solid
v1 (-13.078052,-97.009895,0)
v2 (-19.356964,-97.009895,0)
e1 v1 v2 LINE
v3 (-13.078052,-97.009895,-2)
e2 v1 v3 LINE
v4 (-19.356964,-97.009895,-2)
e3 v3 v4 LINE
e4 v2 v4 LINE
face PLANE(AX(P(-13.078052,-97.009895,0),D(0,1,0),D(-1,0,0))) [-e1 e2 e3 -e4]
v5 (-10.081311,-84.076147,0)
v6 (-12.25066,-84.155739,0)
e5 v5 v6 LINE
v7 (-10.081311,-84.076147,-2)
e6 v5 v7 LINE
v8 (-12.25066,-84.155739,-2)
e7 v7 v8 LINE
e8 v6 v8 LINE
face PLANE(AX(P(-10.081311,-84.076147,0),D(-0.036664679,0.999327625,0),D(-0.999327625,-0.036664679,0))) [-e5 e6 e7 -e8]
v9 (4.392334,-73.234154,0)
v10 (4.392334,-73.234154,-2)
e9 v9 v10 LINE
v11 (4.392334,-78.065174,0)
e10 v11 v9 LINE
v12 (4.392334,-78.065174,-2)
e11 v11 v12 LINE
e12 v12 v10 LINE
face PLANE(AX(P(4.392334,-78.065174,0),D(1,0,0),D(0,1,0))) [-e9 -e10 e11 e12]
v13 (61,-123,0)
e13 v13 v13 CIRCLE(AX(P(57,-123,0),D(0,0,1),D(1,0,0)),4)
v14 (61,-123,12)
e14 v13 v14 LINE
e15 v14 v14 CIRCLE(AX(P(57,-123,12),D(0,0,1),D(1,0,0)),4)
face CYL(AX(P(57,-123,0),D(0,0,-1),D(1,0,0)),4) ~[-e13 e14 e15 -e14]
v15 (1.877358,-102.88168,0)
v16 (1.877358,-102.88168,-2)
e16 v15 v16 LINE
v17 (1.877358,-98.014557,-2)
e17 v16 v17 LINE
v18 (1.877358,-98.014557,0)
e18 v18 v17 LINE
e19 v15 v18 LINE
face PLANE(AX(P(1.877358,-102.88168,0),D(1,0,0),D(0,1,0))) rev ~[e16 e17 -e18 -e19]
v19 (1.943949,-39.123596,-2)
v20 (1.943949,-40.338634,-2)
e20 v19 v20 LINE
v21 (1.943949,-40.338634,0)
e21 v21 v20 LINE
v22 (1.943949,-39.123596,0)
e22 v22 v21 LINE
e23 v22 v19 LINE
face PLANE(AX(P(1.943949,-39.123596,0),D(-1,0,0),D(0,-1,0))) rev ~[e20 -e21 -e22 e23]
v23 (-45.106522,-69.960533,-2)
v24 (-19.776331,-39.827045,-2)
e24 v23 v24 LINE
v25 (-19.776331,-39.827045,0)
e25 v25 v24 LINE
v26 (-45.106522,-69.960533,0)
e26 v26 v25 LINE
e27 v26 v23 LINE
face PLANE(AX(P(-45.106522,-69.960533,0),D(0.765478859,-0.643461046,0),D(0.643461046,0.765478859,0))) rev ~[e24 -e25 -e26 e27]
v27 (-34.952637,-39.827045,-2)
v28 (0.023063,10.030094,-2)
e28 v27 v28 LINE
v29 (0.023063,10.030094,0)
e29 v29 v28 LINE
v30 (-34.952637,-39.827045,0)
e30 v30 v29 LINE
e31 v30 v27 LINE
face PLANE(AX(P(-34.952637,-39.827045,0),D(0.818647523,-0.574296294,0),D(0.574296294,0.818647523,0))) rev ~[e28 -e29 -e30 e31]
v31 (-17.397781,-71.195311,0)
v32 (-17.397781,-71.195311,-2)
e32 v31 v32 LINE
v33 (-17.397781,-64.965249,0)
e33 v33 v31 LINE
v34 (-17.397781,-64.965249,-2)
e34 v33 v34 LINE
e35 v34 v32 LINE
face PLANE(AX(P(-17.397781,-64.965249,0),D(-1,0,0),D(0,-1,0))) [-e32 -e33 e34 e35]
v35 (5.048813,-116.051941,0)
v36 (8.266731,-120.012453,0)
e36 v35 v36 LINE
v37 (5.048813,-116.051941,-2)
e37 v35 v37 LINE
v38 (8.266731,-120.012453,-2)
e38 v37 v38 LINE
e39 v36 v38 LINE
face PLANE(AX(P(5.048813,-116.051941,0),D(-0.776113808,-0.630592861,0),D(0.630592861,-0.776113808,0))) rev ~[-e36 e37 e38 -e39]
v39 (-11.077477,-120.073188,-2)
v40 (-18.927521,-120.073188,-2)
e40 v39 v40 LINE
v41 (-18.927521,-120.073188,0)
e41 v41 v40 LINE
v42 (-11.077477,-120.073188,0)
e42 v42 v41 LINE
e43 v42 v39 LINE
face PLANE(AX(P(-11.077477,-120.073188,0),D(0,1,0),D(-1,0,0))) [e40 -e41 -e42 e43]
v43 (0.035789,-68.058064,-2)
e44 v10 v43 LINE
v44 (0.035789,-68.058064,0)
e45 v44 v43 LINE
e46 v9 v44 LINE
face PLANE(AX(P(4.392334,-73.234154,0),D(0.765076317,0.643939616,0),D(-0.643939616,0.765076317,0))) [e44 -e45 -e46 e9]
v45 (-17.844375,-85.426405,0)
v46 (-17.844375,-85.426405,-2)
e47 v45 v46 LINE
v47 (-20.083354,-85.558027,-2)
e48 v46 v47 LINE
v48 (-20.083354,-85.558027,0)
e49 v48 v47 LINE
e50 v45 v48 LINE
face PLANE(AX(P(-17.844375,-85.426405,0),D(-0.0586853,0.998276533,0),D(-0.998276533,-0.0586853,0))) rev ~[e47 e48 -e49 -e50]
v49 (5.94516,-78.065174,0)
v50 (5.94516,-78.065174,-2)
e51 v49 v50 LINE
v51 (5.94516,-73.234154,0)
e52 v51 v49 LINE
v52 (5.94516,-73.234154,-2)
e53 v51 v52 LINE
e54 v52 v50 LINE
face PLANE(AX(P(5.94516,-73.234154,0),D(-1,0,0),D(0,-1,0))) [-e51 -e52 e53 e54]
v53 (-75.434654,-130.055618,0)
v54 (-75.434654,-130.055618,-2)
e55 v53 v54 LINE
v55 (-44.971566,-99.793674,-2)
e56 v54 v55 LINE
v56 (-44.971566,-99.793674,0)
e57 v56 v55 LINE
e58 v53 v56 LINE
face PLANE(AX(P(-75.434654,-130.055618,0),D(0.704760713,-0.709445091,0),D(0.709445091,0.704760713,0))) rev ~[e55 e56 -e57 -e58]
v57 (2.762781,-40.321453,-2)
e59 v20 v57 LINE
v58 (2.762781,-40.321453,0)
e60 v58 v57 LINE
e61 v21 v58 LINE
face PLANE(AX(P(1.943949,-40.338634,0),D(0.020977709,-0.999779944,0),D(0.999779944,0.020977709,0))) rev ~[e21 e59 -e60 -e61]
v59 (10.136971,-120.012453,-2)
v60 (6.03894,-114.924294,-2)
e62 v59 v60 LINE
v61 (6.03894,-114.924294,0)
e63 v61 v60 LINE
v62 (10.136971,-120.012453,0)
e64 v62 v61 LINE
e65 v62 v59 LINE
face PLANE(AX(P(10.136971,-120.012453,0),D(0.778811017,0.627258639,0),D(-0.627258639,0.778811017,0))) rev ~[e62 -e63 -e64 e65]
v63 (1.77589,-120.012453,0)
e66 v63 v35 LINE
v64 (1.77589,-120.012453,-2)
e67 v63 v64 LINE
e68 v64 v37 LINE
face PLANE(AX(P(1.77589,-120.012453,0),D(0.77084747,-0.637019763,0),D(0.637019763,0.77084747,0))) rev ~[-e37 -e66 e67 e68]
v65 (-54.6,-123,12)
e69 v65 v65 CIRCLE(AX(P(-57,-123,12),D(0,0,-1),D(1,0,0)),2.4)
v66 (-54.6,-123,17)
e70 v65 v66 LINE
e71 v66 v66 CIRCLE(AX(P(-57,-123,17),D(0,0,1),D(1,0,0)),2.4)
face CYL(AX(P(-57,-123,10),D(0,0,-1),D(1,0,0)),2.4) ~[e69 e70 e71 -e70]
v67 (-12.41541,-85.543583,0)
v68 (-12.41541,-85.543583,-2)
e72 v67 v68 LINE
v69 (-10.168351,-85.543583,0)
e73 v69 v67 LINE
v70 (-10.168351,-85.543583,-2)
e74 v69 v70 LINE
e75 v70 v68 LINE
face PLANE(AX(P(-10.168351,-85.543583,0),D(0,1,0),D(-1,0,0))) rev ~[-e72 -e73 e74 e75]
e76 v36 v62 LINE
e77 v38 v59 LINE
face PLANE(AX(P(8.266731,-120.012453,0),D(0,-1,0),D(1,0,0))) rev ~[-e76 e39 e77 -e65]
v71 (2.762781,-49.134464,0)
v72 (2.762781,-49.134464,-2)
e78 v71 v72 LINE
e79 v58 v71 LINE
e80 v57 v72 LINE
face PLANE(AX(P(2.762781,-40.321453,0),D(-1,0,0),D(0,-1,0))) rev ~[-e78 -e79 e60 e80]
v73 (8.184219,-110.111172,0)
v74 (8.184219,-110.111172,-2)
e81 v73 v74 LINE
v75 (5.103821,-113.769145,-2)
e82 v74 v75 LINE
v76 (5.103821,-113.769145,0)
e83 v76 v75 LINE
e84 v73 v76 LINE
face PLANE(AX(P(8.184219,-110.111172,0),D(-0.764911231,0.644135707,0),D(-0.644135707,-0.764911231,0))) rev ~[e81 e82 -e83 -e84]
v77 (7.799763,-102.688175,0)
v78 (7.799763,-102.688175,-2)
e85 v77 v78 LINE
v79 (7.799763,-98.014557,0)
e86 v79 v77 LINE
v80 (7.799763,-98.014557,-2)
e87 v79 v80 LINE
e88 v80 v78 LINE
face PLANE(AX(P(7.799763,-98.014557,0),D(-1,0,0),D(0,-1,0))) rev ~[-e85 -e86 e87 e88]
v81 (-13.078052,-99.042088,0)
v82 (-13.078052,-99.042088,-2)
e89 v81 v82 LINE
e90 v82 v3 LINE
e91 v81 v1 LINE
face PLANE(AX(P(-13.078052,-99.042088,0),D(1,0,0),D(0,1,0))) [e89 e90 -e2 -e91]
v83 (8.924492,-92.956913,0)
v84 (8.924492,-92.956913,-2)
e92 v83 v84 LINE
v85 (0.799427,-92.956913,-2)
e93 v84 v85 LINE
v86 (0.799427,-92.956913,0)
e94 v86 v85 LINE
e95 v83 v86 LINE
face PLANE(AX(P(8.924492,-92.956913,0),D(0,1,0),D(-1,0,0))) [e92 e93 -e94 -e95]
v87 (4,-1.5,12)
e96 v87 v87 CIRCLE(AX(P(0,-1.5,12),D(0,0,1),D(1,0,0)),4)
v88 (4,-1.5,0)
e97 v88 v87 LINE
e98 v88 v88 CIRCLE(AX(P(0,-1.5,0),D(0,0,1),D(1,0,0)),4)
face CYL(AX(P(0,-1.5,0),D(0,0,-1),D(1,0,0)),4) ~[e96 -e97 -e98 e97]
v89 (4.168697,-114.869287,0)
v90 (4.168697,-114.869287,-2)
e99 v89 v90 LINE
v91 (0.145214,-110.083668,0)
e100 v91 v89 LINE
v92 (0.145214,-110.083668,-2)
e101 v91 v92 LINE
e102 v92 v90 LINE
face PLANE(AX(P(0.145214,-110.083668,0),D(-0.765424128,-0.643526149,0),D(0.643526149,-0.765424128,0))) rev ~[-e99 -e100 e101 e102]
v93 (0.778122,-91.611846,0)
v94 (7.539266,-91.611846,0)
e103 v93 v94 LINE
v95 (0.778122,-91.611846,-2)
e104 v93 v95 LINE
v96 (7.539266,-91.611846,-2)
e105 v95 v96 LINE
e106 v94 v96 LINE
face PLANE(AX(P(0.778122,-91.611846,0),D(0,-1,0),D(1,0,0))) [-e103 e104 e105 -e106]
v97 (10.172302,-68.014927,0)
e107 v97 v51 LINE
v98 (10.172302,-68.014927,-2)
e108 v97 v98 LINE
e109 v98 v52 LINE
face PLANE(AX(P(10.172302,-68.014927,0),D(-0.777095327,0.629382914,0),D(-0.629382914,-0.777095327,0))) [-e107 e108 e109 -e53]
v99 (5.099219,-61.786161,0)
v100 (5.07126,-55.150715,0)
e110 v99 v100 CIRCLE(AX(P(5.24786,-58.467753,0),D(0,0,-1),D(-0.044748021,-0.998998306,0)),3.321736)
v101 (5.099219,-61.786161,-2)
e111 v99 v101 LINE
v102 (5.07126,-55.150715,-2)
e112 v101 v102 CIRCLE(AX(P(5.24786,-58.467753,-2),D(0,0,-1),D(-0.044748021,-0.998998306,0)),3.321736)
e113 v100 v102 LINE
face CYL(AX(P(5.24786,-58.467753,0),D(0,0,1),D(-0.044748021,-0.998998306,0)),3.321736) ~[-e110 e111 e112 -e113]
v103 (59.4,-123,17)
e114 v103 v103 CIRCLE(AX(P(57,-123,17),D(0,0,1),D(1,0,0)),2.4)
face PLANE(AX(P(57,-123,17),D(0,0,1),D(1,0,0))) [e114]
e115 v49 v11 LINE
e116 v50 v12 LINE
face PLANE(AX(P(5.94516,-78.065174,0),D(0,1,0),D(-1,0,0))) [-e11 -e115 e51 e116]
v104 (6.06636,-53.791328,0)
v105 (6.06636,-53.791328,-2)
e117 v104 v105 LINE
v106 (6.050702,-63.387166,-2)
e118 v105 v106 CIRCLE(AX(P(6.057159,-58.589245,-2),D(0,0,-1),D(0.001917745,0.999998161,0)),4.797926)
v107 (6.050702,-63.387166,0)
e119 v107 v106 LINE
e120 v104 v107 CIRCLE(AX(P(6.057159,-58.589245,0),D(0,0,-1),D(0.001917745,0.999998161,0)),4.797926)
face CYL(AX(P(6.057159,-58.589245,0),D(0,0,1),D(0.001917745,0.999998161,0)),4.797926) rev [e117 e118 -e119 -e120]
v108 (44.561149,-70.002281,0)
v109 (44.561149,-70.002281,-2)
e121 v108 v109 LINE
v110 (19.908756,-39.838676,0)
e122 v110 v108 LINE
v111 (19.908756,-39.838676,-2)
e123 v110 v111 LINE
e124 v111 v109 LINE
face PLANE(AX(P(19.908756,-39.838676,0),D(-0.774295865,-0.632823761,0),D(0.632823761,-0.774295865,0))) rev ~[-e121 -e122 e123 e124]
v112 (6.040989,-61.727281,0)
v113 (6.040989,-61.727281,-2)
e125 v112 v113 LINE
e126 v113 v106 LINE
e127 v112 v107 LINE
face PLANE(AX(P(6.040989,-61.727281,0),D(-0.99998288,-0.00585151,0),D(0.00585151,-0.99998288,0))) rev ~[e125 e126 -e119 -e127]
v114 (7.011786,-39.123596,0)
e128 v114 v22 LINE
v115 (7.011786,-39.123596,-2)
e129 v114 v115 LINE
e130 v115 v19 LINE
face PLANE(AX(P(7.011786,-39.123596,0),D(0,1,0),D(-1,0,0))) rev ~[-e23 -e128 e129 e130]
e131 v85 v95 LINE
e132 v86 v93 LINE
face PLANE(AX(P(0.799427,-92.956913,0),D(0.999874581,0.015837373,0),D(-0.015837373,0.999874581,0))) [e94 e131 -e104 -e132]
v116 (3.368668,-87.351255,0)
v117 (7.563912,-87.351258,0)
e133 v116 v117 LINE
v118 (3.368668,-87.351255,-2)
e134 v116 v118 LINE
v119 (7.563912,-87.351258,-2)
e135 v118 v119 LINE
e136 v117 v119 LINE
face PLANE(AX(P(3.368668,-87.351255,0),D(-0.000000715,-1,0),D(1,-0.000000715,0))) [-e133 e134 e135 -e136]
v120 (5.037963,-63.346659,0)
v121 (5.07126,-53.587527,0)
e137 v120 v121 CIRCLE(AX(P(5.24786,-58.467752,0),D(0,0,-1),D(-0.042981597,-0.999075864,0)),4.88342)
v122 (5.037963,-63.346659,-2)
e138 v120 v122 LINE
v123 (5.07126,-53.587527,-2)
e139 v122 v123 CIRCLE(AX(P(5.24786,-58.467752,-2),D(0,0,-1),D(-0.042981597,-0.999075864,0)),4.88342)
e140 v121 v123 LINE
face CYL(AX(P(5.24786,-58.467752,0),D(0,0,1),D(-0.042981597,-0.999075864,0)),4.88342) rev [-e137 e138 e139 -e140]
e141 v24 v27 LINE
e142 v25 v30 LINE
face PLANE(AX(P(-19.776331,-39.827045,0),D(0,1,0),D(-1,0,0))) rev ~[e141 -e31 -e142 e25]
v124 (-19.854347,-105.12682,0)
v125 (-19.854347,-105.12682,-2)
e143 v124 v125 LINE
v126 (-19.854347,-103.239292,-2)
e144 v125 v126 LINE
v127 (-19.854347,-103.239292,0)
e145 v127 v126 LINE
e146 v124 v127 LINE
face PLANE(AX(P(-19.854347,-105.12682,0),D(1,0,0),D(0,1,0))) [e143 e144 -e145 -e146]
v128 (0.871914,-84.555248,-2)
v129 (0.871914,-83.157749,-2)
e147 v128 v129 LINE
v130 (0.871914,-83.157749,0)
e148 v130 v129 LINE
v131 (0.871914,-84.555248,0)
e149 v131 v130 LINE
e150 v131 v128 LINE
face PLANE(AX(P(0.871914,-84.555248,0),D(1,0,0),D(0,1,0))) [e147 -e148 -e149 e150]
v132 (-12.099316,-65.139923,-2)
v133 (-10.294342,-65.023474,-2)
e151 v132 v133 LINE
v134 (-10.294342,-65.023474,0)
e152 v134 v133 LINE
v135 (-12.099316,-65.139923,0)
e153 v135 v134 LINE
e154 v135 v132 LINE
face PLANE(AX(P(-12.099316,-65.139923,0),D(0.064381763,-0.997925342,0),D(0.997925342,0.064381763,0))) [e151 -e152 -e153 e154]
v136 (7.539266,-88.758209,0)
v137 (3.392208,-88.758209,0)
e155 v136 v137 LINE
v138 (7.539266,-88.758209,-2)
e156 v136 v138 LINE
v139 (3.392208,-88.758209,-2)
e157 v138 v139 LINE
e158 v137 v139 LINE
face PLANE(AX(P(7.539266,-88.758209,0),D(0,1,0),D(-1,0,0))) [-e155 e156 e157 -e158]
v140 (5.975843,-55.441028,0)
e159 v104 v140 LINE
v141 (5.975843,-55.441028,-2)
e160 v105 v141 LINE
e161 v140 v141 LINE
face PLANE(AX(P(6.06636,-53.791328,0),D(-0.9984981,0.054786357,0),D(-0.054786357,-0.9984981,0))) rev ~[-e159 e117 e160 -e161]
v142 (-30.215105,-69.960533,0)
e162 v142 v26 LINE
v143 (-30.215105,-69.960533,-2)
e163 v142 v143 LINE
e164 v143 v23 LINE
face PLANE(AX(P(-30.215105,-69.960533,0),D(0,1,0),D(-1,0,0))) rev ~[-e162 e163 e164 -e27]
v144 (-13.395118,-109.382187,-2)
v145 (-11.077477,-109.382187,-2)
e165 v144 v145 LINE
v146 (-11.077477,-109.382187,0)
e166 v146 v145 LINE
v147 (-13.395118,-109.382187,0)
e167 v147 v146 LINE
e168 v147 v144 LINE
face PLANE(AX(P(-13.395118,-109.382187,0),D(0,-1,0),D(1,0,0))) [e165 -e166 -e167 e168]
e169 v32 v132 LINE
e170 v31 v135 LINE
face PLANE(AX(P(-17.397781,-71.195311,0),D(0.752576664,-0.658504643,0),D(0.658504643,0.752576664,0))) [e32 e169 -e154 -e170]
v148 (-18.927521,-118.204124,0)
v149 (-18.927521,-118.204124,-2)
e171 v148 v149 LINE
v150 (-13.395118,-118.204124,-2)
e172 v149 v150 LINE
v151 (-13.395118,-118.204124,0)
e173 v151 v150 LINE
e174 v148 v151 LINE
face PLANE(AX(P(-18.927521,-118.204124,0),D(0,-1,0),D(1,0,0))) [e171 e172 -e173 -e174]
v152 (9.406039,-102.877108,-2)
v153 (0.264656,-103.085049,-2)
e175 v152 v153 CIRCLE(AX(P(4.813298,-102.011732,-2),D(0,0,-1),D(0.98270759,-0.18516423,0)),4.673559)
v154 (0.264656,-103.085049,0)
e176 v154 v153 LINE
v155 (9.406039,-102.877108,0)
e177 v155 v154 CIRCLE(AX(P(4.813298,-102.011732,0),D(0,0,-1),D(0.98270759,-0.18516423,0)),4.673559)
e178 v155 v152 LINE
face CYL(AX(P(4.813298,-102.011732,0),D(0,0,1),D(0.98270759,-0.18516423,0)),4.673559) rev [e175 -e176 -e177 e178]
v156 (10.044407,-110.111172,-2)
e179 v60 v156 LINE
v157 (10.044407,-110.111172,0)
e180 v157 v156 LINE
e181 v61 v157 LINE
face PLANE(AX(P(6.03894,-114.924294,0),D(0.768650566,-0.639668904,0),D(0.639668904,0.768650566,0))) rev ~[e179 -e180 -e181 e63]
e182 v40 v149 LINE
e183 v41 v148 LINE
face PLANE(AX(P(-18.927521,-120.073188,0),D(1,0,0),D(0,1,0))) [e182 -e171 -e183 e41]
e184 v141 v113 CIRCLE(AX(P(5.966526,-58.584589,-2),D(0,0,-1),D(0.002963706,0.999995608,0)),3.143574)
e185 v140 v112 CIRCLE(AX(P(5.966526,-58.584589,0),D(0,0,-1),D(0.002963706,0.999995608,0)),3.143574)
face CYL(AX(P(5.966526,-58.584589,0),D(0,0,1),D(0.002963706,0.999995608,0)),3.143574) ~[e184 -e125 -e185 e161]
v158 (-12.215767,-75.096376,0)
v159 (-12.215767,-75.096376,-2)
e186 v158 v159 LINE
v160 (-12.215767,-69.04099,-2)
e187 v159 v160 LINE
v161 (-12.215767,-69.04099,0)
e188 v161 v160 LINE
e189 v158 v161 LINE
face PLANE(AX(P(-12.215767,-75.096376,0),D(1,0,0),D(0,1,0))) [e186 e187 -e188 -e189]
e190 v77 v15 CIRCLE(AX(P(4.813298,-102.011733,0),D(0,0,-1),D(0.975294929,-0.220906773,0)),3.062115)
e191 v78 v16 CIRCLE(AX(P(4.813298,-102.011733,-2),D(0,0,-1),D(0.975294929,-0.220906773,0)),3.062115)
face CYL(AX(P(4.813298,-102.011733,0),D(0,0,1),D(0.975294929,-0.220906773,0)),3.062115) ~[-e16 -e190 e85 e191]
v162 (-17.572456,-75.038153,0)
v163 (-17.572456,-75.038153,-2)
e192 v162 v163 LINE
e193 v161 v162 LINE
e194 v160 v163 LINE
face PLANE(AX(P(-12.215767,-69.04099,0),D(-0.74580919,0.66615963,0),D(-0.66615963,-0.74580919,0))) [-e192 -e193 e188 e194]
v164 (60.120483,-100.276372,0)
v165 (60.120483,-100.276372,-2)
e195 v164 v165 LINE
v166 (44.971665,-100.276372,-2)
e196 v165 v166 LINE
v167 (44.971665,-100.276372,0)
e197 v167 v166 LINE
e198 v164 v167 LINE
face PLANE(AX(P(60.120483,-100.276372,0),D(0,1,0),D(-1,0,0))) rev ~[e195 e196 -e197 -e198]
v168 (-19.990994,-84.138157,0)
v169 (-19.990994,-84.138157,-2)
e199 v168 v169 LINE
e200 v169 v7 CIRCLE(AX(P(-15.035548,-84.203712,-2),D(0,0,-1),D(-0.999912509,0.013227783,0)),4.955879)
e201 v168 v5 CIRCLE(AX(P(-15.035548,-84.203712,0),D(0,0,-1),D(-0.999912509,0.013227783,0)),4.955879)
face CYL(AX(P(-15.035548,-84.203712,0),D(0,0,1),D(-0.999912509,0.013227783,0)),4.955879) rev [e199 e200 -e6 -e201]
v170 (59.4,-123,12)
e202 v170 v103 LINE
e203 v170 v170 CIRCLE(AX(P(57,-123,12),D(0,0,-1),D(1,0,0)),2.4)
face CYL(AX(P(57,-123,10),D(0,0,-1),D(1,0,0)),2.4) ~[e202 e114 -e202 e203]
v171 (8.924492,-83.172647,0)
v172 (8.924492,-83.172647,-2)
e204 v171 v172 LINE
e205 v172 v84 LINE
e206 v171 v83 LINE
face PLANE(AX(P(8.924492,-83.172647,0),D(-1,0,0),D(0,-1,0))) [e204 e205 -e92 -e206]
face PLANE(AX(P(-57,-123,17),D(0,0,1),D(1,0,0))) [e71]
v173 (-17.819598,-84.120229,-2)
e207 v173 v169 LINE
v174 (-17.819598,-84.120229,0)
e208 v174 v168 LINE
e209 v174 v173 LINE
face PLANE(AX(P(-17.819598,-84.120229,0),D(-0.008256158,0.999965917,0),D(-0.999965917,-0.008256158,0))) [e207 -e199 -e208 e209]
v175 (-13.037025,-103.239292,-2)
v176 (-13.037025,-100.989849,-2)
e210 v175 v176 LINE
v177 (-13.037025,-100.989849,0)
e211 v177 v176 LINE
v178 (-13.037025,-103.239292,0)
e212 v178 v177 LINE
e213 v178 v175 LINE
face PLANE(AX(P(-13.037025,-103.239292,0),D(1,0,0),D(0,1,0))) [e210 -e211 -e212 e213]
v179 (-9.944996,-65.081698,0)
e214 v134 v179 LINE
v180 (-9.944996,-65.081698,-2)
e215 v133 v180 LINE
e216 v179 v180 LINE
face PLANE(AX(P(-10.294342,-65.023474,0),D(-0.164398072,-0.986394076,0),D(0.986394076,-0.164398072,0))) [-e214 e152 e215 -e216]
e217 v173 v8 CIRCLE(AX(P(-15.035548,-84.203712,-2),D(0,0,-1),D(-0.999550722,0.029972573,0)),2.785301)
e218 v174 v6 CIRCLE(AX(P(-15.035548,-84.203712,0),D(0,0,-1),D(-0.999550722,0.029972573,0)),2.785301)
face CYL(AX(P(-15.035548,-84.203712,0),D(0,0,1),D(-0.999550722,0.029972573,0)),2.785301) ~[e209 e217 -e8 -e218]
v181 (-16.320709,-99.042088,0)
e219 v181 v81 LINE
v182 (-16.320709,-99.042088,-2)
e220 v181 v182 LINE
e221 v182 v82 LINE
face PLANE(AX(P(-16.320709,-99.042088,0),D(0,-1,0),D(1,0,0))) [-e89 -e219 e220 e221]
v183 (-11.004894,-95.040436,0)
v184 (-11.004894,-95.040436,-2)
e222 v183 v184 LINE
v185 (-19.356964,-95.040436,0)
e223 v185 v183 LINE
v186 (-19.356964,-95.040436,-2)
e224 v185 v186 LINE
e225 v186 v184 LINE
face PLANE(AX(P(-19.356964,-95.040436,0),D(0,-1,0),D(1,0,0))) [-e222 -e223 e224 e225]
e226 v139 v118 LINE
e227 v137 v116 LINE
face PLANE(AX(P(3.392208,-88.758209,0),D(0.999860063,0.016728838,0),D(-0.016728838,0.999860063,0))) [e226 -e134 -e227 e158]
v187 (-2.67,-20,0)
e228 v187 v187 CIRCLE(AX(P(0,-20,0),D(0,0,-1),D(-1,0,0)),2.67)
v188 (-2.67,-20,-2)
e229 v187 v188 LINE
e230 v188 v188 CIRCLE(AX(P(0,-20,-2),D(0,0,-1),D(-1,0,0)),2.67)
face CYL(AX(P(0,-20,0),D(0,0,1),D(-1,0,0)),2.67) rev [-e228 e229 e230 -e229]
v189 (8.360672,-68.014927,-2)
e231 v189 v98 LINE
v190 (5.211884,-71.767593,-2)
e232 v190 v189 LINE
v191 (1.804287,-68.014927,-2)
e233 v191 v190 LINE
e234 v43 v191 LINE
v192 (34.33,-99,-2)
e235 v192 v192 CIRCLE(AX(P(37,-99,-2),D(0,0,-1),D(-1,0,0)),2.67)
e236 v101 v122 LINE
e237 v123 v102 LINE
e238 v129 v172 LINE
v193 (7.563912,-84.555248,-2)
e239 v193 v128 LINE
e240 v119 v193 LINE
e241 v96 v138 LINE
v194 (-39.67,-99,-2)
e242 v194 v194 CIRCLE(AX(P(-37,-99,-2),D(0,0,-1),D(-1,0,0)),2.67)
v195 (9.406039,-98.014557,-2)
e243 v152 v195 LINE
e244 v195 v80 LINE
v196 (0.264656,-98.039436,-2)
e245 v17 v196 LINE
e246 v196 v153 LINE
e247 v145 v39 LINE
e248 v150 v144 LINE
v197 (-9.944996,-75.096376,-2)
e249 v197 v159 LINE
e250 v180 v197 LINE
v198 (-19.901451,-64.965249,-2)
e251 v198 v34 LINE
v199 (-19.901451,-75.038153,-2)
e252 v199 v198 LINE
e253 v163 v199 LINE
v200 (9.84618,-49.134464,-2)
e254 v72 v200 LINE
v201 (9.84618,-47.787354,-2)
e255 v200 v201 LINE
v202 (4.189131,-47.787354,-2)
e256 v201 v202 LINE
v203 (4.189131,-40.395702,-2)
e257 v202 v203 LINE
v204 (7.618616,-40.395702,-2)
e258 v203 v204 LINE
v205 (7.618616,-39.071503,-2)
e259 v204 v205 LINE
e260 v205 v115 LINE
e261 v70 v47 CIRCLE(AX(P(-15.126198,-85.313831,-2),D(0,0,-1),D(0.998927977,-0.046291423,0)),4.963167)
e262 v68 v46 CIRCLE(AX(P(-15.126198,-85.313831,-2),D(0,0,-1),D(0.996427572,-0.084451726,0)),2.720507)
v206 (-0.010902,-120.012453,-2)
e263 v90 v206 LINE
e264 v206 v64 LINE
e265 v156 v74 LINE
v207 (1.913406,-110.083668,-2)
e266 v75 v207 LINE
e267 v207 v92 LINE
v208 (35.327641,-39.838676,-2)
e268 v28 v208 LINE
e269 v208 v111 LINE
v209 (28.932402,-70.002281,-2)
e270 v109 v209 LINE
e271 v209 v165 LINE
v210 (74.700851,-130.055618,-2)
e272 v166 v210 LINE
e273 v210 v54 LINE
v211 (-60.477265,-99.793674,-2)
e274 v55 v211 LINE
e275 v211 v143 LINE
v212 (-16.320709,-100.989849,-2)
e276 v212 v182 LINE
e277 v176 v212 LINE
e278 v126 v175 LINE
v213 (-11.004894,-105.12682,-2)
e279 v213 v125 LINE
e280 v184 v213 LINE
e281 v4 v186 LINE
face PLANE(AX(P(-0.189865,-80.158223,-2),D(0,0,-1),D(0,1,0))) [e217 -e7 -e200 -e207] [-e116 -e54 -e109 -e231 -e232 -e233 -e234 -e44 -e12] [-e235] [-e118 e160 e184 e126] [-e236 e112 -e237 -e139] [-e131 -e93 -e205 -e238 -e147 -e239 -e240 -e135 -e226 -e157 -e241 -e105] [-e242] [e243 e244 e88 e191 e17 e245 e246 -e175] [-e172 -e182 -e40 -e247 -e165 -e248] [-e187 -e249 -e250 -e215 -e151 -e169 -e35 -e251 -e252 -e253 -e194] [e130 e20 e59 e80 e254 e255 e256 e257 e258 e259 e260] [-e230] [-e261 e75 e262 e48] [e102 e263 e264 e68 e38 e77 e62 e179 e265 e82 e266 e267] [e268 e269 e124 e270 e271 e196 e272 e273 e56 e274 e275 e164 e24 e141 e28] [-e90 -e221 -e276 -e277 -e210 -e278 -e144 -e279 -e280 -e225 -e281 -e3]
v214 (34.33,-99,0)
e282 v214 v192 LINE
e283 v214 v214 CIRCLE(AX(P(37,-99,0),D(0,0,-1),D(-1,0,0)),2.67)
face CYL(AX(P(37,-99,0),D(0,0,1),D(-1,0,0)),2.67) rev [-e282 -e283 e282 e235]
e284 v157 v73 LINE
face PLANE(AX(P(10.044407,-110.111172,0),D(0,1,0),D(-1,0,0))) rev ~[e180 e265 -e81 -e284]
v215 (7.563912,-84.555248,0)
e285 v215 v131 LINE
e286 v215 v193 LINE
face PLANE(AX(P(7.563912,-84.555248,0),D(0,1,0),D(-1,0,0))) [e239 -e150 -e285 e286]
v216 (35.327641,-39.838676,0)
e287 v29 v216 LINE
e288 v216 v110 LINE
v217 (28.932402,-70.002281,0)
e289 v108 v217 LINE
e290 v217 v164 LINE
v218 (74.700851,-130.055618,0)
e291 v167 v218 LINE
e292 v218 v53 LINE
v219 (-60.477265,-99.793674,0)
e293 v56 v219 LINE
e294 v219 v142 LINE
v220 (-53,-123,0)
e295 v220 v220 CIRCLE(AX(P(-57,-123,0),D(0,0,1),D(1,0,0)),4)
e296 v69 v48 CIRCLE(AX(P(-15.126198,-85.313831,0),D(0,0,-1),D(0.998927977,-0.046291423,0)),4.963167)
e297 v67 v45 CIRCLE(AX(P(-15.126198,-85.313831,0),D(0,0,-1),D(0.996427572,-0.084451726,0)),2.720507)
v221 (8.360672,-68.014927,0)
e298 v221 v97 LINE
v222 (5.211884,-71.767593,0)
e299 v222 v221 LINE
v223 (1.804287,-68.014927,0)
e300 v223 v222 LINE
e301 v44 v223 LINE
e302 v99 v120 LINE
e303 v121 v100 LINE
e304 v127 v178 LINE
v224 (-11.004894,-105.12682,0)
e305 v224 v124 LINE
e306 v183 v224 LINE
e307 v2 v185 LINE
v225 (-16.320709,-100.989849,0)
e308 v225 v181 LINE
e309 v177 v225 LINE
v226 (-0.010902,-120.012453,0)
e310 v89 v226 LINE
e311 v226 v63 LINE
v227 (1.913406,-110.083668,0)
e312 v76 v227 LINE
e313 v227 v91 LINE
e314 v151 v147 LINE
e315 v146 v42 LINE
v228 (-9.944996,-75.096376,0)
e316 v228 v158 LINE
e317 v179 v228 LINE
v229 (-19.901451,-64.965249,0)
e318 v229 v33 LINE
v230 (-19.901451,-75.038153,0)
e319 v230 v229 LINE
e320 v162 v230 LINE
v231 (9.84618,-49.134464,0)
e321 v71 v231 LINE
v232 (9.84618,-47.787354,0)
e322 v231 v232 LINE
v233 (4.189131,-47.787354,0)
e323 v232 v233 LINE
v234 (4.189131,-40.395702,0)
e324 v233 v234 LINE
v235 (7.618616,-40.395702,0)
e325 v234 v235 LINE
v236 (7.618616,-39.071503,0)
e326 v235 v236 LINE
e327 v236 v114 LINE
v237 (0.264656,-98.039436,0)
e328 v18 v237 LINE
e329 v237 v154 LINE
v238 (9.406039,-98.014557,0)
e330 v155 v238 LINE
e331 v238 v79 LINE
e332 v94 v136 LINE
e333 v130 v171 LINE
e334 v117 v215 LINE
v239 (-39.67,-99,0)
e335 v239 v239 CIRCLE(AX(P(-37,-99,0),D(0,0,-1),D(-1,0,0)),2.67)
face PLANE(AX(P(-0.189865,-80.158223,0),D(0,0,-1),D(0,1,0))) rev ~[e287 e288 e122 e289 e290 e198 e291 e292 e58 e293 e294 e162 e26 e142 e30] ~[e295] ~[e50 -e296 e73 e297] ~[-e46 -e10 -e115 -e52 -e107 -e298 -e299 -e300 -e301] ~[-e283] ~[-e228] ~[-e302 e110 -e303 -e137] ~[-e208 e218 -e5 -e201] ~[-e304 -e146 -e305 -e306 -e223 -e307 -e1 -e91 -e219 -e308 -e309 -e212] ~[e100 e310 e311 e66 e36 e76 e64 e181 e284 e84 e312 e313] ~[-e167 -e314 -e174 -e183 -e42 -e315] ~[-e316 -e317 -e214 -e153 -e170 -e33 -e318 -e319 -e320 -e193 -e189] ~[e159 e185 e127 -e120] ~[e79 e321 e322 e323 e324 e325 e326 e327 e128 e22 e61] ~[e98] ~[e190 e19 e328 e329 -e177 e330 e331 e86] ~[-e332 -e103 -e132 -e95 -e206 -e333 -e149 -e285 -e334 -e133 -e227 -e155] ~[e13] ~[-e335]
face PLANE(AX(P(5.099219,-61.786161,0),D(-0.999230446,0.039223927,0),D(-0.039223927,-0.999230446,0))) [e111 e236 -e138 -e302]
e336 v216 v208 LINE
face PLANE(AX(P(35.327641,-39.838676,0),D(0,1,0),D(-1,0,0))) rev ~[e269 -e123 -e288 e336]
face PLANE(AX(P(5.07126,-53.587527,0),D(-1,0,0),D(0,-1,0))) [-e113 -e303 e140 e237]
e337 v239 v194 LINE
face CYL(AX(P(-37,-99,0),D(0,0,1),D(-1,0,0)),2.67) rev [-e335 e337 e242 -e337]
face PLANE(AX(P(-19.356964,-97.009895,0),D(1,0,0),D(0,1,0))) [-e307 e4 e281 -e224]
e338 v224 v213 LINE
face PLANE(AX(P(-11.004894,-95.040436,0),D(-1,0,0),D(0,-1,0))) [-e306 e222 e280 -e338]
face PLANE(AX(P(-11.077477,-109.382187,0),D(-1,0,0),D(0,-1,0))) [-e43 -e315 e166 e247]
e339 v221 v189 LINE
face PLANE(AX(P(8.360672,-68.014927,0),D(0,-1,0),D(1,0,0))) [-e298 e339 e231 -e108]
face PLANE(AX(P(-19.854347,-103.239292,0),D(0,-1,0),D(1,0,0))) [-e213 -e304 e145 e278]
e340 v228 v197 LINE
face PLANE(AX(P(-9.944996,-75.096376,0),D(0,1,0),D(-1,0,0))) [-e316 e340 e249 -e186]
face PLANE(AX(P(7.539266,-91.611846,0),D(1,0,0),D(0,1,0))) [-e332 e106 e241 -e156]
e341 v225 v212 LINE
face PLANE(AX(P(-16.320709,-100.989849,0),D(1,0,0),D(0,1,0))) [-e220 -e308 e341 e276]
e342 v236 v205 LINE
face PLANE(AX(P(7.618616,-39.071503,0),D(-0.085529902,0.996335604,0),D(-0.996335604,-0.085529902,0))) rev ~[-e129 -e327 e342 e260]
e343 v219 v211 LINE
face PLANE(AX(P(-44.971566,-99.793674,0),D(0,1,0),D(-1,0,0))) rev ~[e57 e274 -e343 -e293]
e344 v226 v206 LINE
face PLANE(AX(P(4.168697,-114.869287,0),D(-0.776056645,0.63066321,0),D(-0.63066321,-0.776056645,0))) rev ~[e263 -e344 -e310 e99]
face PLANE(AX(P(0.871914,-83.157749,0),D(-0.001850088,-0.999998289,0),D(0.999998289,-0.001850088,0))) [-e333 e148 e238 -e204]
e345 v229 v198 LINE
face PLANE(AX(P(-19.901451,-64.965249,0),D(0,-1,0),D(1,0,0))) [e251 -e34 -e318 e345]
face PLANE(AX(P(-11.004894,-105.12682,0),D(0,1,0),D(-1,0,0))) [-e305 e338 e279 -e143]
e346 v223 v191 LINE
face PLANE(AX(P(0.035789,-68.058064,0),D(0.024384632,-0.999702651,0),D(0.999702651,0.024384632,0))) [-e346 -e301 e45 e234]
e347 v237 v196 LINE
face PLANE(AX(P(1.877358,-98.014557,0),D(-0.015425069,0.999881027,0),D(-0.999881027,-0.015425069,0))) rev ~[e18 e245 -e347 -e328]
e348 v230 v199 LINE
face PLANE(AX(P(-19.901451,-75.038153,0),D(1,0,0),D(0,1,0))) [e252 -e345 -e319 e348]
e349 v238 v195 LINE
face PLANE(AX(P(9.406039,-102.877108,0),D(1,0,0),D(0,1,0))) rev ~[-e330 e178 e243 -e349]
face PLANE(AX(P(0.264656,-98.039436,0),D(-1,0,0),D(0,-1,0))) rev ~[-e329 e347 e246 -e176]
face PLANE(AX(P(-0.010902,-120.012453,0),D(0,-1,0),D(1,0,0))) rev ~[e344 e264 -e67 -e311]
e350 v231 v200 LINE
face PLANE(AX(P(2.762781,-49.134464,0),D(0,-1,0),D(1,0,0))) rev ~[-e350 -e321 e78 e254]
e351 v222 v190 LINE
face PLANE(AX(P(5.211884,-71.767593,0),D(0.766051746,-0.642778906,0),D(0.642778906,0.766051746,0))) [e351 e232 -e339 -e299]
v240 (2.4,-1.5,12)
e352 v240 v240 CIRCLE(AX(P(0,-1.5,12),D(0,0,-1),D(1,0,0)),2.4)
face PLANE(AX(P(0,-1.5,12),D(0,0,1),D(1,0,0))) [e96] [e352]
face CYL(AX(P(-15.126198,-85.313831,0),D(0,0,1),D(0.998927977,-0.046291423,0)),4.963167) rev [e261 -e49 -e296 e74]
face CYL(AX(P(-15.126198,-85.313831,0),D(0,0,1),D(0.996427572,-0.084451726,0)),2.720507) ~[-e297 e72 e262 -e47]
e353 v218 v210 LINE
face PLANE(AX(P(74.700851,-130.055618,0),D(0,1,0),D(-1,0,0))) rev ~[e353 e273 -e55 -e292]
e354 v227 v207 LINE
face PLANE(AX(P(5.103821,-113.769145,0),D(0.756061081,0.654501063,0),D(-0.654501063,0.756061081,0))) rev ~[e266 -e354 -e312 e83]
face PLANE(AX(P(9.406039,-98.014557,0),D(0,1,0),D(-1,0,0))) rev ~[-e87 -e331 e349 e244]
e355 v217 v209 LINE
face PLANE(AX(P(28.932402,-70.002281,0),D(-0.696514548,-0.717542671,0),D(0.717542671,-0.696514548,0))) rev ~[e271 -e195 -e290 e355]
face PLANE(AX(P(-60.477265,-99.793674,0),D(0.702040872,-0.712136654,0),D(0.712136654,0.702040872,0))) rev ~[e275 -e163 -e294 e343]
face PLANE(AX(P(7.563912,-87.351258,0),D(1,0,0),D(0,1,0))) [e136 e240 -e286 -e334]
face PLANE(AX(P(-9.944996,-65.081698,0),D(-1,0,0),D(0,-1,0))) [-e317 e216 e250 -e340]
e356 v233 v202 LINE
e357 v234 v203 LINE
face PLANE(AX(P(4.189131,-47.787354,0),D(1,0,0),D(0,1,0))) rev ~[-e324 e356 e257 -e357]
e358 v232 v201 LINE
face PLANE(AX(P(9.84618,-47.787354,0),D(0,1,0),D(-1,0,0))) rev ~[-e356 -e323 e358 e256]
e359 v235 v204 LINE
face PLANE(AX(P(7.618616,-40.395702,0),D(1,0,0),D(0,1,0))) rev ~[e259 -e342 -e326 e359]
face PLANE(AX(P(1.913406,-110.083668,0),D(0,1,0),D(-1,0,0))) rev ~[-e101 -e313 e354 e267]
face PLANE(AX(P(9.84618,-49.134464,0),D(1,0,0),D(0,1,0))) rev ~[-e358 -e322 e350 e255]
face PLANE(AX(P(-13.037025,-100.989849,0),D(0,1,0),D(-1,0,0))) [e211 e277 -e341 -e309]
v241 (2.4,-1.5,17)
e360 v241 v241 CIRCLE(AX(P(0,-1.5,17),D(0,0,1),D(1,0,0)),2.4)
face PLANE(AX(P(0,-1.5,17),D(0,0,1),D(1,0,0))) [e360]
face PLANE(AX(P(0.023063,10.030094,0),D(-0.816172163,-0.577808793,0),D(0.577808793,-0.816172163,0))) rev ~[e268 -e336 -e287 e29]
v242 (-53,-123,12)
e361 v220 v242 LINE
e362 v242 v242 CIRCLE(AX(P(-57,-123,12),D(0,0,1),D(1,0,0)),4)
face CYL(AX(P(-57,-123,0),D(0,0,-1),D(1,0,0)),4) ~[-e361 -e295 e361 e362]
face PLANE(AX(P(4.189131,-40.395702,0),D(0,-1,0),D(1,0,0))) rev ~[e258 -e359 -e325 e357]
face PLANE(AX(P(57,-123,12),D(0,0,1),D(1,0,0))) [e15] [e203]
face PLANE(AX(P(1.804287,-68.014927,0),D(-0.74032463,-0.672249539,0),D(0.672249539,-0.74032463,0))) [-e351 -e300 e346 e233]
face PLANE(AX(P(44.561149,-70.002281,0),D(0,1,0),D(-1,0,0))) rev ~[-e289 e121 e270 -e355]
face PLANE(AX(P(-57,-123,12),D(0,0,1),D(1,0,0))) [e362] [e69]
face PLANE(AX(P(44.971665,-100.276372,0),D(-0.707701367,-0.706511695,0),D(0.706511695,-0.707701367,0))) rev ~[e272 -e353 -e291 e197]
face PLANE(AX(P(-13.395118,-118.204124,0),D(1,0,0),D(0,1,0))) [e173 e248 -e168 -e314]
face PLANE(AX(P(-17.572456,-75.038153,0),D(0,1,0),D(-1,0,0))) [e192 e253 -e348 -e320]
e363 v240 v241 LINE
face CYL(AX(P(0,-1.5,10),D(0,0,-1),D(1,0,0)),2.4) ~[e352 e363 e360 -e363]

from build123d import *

# Parameters (mm, degrees)
CYLINDER006_R          = 2.4
CYLINDER006_DEPTH      = 7
CYLINDER004_R          = 4
CYLINDER004_DEPTH      = 12
CYLINDER007_R          = 2.4
CYLINDER007_DEPTH      = 7
CYLINDER005_R          = 4
CYLINDER005_DEPTH      = 12
CYLINDER_R             = 2.67
CYLINDER_DEPTH         = 2
CYLINDER001_R          = 2.67
CYLINDER001_DEPTH      = 2
CYLINDER002_R          = 2.67
CYLINDER002_DEPTH      = 2
PAD005_DEPTH           = 2
PAD006_DEPTH           = 2
PAD007_DEPTH           = 2
PAD008_DEPTH           = 2
PAD009_DEPTH           = 2
PAD010_DEPTH           = 2
PAD011_DEPTH           = 2
PAD013_DEPTH           = 2
PAD014_DEPTH           = 2
PAD015_DEPTH           = 2
PAD001_DEPTH           = 2
PAD004_DEPTH           = 2
PAD_DEPTH              = 2
CUT014_PLACEMENT_ANGLE = 180
CYLINDER003_R          = 4
CYLINDER003_DEPTH      = 12
CYLINDER008_R          = 2.4
CYLINDER008_DEPTH      = 7


with BuildPart() as cylindre006:
    # Cylinder006 → Cylinder006 (new body)
    with BuildSketch(Plane.XY.offset(10)):
        Circle(CYLINDER006_R)
    extrude(amount=CYLINDER006_DEPTH)


with BuildPart() as fixdroite:
    # Cylinder004 → Cylinder004 (new body)
    with BuildSketch(Plane.XY):
        Circle(CYLINDER004_R)
    extrude(amount=CYLINDER004_DEPTH)

    # Fusion001: union Cylindre006
    add(cylindre006.part)


with BuildPart() as fixdroite_1:
    # Fusion001 placement: moved
    add(fixdroite.part.moved(Location((57, -123, 0))))


with BuildPart() as cylindre007:
    # Cylinder007 → Cylinder007 (new body)
    with BuildSketch(Plane.XY.offset(10)):
        Circle(CYLINDER007_R)
    extrude(amount=CYLINDER007_DEPTH)


with BuildPart() as fixhaut:
    # Cylinder005 → Cylinder005 (new body)
    with BuildSketch(Plane.XY):
        Circle(CYLINDER005_R)
    extrude(amount=CYLINDER005_DEPTH)

    # Fusion002: union Cylindre007
    add(cylindre007.part)


with BuildPart() as fixhaut_1:
    # Fusion002 placement: moved
    add(fixhaut.part.moved(Location((0, -1.5, 0))))


with BuildPart() as ledh:
    # Cylinder → Cylinder (new body)
    with BuildSketch(Plane(origin=(0, -20, 0), x_dir=(1, 0, 0), z_dir=(0, 0, 1))):
        Circle(CYLINDER_R)
    extrude(amount=CYLINDER_DEPTH)


with BuildPart() as ledg:
    # Cylinder001 → Cylinder001 (new body)
    with BuildSketch(Plane(origin=(-37, -99, 0), x_dir=(1, 0, 0), z_dir=(0, 0, 1))):
        Circle(CYLINDER001_R)
    extrude(amount=CYLINDER001_DEPTH)


with BuildPart() as ledd:
    # Cylinder002 → Cylinder002 (new body)
    with BuildSketch(Plane(origin=(37, -99, 0), x_dir=(1, 0, 0), z_dir=(0, 0, 1))):
        Circle(CYLINDER002_R)
    extrude(amount=CYLINDER002_DEPTH)


with BuildPart() as pad005:
    # Sketch003 → Pad005 (new body)
    with BuildSketch(Plane(origin=(11, -73, 0), x_dir=(1, 0, 0), z_dir=(0, 0, 1))):
        with BuildLine():
            ThreePointArc((-16.037963, 9.653341), (-11.364469, 14.54891), (-16.07126, 19.412473))
            Line((-16.07126, 19.412473), (-16.07126, 17.849285))
            ThreePointArc((-16.099219, 11.213839), (-12.926154, 14.518251), (-16.07126, 17.849285))
            Line((-16.099219, 11.213839), (-16.037963, 9.653341))
        make_face()
    extrude(amount=PAD005_DEPTH)


with BuildPart() as pad006:
    # Sketch004 → Pad006 (new body)
    with BuildSketch(Plane(origin=(50, -28, 0), x_dir=(1, 0, 0), z_dir=(0, 0, 1))):
        Polygon((-60.172302, -40.014927), (-55.94516, -45.234154), (-55.94516, -50.065174), (-54.392334, -50.065174), (-54.392334, -45.234154), (-50.035789, -40.058064), (-51.804287, -40.014927), (-55.211884, -43.767593), (-58.360672, -40.014927), align=None)
    extrude(amount=PAD006_DEPTH)


with BuildPart() as pad007:
    # Sketch005 → Pad007 (new body)
    with BuildSketch(Plane(origin=(51, -113, 0), x_dir=(1, 0, 0), z_dir=(0, 0, 1))):
        Polygon((-59.924492, 29.827353), (-59.924492, 20.043087), (-51.799427, 20.043087), (-51.778122, 21.388154), (-58.539266, 21.388154), (-58.539266, 24.241791), (-54.392208, 24.241791), (-54.368668, 25.648745), (-58.563912, 25.648742), (-58.563912, 28.444752), (-51.871914, 28.444752), (-51.871914, 29.842251), align=None)
    extrude(amount=PAD007_DEPTH)


with BuildPart() as pad008:
    # Sketch006 → Pad008 (new body)
    with BuildSketch(Plane(origin=(40, -88, 0), x_dir=(1, 0, 0), z_dir=(0, 0, 1))):
        with BuildLine():
            ThreePointArc((-49.406039, -14.877108), (-44.91958, -18.684082), (-40.264656, -15.085049))
            Line((-40.264656, -10.039436), (-40.264656, -15.085049))
            Line((-41.877358, -10.014557), (-40.264656, -10.039436))
            Line((-41.877358, -14.88168), (-41.877358, -10.014557))
            ThreePointArc((-47.799763, -14.688175), (-44.913294, -17.072215), (-41.877358, -14.88168))
            Line((-47.799763, -10.014557), (-47.799763, -14.688175))
            Line((-49.406039, -10.014557), (-47.799763, -10.014557))
            Line((-49.406039, -14.877108), (-49.406039, -10.014557))
        make_face()
    extrude(amount=PAD008_DEPTH)


with BuildPart() as pad009:
    # Sketch007 → Pad009 (new body)
    with BuildSketch(Plane(origin=(40, -100, 0), x_dir=(1, 0, 0), z_dir=(0, 0, 1))):
        Polygon((-50.044407, -10.111172), (-48.184219, -10.111172), (-45.103821, -13.769145), (-41.913406, -10.083668), (-40.145214, -10.083668), (-44.168697, -14.869287), (-39.989098, -20.012453), (-41.77589, -20.012453), (-45.048813, -16.051941), (-48.266731, -20.012453), (-50.136971, -20.012453), (-46.03894, -14.924294), align=None)
    extrude(amount=PAD009_DEPTH)


with BuildPart() as pad010:
    # Sketch008 → Pad010 (new body)
    with BuildSketch(Plane(origin=(-50, -55, 0), x_dir=(1, 0, 0), z_dir=(0, 0, 1))):
        Polygon((59.944996, -10.081698), (59.944996, -20.096376), (62.215767, -20.096376), (62.215767, -14.04099), (67.572456, -20.038153), (69.901451, -20.038153), (69.901451, -9.965249), (67.397781, -9.965249), (67.397781, -16.195311), (62.099316, -10.139923), (60.294342, -10.023474), align=None)
    extrude(amount=PAD010_DEPTH)


with BuildPart() as pad011:
    # Sketch009 → Pad011 (new body)
    with BuildSketch(Plane(origin=(-50, -49, 0), x_dir=(1, 0, 0), z_dir=(0, 0, 1))):
        with BuildLine():
            ThreePointArc((69.990994, -35.138157), (65.066559, -30.24793), (60.081311, -35.076147))
            Line((60.081311, -35.076147), (62.25066, -35.155739))
            ThreePointArc((67.819598, -35.120229), (65.017788, -32.418467), (62.25066, -35.155739))
            Line((67.819598, -35.120229), (69.990994, -35.138157))
        make_face()
    extrude(amount=PAD011_DEPTH)


with BuildPart() as pad013:
    # Sketch010 → Pad013 (new body)
    with BuildSketch(Plane(origin=(-50, -50, 0), x_dir=(1, 0, 0), z_dir=(0, 0, 1))):
        with BuildLine():
            ThreePointArc((60.168351, -35.543583), (65.118967, -40.276993), (70.083354, -35.558027))
            Line((67.844375, -35.426405), (70.083354, -35.558027))
            ThreePointArc((62.41541, -35.543583), (65.184903, -38.033705), (67.844375, -35.426405))
            Line((60.168351, -35.543583), (62.41541, -35.543583))
        make_face()
    extrude(amount=PAD013_DEPTH)


with BuildPart() as pad014:
    # Sketch011 → Pad014 (new body)
    with BuildSketch(Plane(origin=(-49, -45, 0), x_dir=(1, 0, 0), z_dir=(0, 0, 1))):
        Polygon((60.004894, -50.040436), (60.004894, -60.12682), (68.854347, -60.12682), (68.854347, -58.239292), (62.037025, -58.239292), (62.037025, -55.989849), (65.320709, -55.989849), (65.320709, -54.042088), (62.078052, -54.042088), (62.078052, -52.009895), (68.356964, -52.009895), (68.356964, -50.040436), align=None)
    extrude(amount=PAD014_DEPTH)


with BuildPart() as pad015:
    # Sketch012 → Pad015 (new body)
    with BuildSketch(Plane(origin=(-59, -10, 0), x_dir=(1, 0, 0), z_dir=(0, 0, 1))):
        Polygon((70.077477, -99.382187), (70.077477, -110.073188), (77.927521, -110.073188), (77.927521, -108.204124), (72.395118, -108.204124), (72.395118, -99.382187), align=None)
    extrude(amount=PAD015_DEPTH)


with BuildPart() as pad001:
    # Sketch001 → Pad001 (new body)
    with BuildSketch(Plane(origin=(24, -79, 0), x_dir=(1, 0, 0), z_dir=(0, 0, 1))):
        Polygon((-31.011786, 39.876404), (-25.943949, 39.876404), (-25.943949, 38.661366), (-26.762781, 38.678547), (-26.762781, 29.865536), (-33.84618, 29.865536), (-33.84618, 31.212646), (-28.189131, 31.212646), (-28.189131, 38.604298), (-31.618616, 38.604298), (-31.618616, 39.928497), align=None)
    extrude(amount=PAD001_DEPTH)


with BuildPart() as pad004:
    # Sketch002 → Pad004 (new body)
    with BuildSketch(Plane(origin=(23, -75, 0), x_dir=(1, 0, 0), z_dir=(0, 0, 1))):
        with BuildLine():
            ThreePointArc((-29.06636, 21.208672), (-33.855078, 16.402926), (-29.050702, 11.612834))
            Line((-29.040989, 13.272719), (-29.050702, 11.612834))
            ThreePointArc((-28.975843, 19.558972), (-32.109932, 16.447987), (-29.040989, 13.272719))
            Line((-29.06636, 21.208672), (-28.975843, 19.558972))
        make_face()
    extrude(amount=PAD004_DEPTH)


with BuildPart() as cut014:
    # Sketch → Pad (new body)
    with BuildSketch(Plane(origin=(0, 0, 0), x_dir=(0, 1, 0), z_dir=(0, 0, 1))):
        Polygon((-130.055618, 74.700851), (-130.055618, -75.434654), (-99.793674, -44.971566), (-99.793674, -60.477265), (-69.960533, -30.215105), (-69.960533, -45.106522), (-39.827045, -19.776331), (-39.827045, -34.952637), (10.030094, 0.023063), (-39.838676, 35.327641), (-39.838676, 19.908756), (-70.002281, 44.561149), (-70.002281, 28.932402), (-100.276372, 60.120483), (-100.276372, 44.971665), align=None)
    extrude(amount=PAD_DEPTH)

    # Cut001: cut Pad004
    add(pad004.part, mode=Mode.SUBTRACT)

    # Cut: cut Pad001
    add(pad001.part, mode=Mode.SUBTRACT)

    # Cut002: cut Pad015
    add(pad015.part, mode=Mode.SUBTRACT)

    # Cut003: cut Pad014
    add(pad014.part, mode=Mode.SUBTRACT)

    # Cut004: cut Pad013
    add(pad013.part, mode=Mode.SUBTRACT)

    # Cut005: cut Pad011
    add(pad011.part, mode=Mode.SUBTRACT)

    # Cut006: cut Pad010
    add(pad010.part, mode=Mode.SUBTRACT)

    # Cut007: cut Pad009
    add(pad009.part, mode=Mode.SUBTRACT)

    # Cut008: cut Pad008
    add(pad008.part, mode=Mode.SUBTRACT)

    # Cut009: cut Pad007
    add(pad007.part, mode=Mode.SUBTRACT)

    # Cut010: cut Pad006
    add(pad006.part, mode=Mode.SUBTRACT)

    # Cut011: cut Pad005
    add(pad005.part, mode=Mode.SUBTRACT)

    # Cut012: cut LedD
    add(ledd.part, mode=Mode.SUBTRACT)

    # Cut013: cut ledG
    add(ledg.part, mode=Mode.SUBTRACT)

    # Cut014: cut LedH
    add(ledh.part, mode=Mode.SUBTRACT)


with BuildPart() as cut014_1:
    # Cut014 placement: moved
    add(cut014.part.rotate(Axis((0, 0, 0), (0, 1, 0)), CUT014_PLACEMENT_ANGLE))


with BuildPart() as cylindre003:
    # Cylinder003 → Cylinder003 (new body)
    with BuildSketch(Plane.XY):
        Circle(CYLINDER003_R)
    extrude(amount=CYLINDER003_DEPTH)


with BuildPart() as fusion005:
    # Cylinder008 → Cylinder008 (new body)
    with BuildSketch(Plane.XY.offset(10)):
        Circle(CYLINDER008_R)
    extrude(amount=CYLINDER008_DEPTH)

    # Fusion: union Cylindre003
    add(cylindre003.part)


with BuildPart() as fusion005_1:
    # Fusion placement: moved
    add(fusion005.part.moved(Location((-57, -123, 0))))

    # Fusion003: union Cut014
    add(cut014_1.part)

    # Fusion004: union FixHaut
    add(fixhaut_1.part)

    # Fusion005: union FixDroite
    add(fixdroite_1.part)


solid = fusion005_1.part
